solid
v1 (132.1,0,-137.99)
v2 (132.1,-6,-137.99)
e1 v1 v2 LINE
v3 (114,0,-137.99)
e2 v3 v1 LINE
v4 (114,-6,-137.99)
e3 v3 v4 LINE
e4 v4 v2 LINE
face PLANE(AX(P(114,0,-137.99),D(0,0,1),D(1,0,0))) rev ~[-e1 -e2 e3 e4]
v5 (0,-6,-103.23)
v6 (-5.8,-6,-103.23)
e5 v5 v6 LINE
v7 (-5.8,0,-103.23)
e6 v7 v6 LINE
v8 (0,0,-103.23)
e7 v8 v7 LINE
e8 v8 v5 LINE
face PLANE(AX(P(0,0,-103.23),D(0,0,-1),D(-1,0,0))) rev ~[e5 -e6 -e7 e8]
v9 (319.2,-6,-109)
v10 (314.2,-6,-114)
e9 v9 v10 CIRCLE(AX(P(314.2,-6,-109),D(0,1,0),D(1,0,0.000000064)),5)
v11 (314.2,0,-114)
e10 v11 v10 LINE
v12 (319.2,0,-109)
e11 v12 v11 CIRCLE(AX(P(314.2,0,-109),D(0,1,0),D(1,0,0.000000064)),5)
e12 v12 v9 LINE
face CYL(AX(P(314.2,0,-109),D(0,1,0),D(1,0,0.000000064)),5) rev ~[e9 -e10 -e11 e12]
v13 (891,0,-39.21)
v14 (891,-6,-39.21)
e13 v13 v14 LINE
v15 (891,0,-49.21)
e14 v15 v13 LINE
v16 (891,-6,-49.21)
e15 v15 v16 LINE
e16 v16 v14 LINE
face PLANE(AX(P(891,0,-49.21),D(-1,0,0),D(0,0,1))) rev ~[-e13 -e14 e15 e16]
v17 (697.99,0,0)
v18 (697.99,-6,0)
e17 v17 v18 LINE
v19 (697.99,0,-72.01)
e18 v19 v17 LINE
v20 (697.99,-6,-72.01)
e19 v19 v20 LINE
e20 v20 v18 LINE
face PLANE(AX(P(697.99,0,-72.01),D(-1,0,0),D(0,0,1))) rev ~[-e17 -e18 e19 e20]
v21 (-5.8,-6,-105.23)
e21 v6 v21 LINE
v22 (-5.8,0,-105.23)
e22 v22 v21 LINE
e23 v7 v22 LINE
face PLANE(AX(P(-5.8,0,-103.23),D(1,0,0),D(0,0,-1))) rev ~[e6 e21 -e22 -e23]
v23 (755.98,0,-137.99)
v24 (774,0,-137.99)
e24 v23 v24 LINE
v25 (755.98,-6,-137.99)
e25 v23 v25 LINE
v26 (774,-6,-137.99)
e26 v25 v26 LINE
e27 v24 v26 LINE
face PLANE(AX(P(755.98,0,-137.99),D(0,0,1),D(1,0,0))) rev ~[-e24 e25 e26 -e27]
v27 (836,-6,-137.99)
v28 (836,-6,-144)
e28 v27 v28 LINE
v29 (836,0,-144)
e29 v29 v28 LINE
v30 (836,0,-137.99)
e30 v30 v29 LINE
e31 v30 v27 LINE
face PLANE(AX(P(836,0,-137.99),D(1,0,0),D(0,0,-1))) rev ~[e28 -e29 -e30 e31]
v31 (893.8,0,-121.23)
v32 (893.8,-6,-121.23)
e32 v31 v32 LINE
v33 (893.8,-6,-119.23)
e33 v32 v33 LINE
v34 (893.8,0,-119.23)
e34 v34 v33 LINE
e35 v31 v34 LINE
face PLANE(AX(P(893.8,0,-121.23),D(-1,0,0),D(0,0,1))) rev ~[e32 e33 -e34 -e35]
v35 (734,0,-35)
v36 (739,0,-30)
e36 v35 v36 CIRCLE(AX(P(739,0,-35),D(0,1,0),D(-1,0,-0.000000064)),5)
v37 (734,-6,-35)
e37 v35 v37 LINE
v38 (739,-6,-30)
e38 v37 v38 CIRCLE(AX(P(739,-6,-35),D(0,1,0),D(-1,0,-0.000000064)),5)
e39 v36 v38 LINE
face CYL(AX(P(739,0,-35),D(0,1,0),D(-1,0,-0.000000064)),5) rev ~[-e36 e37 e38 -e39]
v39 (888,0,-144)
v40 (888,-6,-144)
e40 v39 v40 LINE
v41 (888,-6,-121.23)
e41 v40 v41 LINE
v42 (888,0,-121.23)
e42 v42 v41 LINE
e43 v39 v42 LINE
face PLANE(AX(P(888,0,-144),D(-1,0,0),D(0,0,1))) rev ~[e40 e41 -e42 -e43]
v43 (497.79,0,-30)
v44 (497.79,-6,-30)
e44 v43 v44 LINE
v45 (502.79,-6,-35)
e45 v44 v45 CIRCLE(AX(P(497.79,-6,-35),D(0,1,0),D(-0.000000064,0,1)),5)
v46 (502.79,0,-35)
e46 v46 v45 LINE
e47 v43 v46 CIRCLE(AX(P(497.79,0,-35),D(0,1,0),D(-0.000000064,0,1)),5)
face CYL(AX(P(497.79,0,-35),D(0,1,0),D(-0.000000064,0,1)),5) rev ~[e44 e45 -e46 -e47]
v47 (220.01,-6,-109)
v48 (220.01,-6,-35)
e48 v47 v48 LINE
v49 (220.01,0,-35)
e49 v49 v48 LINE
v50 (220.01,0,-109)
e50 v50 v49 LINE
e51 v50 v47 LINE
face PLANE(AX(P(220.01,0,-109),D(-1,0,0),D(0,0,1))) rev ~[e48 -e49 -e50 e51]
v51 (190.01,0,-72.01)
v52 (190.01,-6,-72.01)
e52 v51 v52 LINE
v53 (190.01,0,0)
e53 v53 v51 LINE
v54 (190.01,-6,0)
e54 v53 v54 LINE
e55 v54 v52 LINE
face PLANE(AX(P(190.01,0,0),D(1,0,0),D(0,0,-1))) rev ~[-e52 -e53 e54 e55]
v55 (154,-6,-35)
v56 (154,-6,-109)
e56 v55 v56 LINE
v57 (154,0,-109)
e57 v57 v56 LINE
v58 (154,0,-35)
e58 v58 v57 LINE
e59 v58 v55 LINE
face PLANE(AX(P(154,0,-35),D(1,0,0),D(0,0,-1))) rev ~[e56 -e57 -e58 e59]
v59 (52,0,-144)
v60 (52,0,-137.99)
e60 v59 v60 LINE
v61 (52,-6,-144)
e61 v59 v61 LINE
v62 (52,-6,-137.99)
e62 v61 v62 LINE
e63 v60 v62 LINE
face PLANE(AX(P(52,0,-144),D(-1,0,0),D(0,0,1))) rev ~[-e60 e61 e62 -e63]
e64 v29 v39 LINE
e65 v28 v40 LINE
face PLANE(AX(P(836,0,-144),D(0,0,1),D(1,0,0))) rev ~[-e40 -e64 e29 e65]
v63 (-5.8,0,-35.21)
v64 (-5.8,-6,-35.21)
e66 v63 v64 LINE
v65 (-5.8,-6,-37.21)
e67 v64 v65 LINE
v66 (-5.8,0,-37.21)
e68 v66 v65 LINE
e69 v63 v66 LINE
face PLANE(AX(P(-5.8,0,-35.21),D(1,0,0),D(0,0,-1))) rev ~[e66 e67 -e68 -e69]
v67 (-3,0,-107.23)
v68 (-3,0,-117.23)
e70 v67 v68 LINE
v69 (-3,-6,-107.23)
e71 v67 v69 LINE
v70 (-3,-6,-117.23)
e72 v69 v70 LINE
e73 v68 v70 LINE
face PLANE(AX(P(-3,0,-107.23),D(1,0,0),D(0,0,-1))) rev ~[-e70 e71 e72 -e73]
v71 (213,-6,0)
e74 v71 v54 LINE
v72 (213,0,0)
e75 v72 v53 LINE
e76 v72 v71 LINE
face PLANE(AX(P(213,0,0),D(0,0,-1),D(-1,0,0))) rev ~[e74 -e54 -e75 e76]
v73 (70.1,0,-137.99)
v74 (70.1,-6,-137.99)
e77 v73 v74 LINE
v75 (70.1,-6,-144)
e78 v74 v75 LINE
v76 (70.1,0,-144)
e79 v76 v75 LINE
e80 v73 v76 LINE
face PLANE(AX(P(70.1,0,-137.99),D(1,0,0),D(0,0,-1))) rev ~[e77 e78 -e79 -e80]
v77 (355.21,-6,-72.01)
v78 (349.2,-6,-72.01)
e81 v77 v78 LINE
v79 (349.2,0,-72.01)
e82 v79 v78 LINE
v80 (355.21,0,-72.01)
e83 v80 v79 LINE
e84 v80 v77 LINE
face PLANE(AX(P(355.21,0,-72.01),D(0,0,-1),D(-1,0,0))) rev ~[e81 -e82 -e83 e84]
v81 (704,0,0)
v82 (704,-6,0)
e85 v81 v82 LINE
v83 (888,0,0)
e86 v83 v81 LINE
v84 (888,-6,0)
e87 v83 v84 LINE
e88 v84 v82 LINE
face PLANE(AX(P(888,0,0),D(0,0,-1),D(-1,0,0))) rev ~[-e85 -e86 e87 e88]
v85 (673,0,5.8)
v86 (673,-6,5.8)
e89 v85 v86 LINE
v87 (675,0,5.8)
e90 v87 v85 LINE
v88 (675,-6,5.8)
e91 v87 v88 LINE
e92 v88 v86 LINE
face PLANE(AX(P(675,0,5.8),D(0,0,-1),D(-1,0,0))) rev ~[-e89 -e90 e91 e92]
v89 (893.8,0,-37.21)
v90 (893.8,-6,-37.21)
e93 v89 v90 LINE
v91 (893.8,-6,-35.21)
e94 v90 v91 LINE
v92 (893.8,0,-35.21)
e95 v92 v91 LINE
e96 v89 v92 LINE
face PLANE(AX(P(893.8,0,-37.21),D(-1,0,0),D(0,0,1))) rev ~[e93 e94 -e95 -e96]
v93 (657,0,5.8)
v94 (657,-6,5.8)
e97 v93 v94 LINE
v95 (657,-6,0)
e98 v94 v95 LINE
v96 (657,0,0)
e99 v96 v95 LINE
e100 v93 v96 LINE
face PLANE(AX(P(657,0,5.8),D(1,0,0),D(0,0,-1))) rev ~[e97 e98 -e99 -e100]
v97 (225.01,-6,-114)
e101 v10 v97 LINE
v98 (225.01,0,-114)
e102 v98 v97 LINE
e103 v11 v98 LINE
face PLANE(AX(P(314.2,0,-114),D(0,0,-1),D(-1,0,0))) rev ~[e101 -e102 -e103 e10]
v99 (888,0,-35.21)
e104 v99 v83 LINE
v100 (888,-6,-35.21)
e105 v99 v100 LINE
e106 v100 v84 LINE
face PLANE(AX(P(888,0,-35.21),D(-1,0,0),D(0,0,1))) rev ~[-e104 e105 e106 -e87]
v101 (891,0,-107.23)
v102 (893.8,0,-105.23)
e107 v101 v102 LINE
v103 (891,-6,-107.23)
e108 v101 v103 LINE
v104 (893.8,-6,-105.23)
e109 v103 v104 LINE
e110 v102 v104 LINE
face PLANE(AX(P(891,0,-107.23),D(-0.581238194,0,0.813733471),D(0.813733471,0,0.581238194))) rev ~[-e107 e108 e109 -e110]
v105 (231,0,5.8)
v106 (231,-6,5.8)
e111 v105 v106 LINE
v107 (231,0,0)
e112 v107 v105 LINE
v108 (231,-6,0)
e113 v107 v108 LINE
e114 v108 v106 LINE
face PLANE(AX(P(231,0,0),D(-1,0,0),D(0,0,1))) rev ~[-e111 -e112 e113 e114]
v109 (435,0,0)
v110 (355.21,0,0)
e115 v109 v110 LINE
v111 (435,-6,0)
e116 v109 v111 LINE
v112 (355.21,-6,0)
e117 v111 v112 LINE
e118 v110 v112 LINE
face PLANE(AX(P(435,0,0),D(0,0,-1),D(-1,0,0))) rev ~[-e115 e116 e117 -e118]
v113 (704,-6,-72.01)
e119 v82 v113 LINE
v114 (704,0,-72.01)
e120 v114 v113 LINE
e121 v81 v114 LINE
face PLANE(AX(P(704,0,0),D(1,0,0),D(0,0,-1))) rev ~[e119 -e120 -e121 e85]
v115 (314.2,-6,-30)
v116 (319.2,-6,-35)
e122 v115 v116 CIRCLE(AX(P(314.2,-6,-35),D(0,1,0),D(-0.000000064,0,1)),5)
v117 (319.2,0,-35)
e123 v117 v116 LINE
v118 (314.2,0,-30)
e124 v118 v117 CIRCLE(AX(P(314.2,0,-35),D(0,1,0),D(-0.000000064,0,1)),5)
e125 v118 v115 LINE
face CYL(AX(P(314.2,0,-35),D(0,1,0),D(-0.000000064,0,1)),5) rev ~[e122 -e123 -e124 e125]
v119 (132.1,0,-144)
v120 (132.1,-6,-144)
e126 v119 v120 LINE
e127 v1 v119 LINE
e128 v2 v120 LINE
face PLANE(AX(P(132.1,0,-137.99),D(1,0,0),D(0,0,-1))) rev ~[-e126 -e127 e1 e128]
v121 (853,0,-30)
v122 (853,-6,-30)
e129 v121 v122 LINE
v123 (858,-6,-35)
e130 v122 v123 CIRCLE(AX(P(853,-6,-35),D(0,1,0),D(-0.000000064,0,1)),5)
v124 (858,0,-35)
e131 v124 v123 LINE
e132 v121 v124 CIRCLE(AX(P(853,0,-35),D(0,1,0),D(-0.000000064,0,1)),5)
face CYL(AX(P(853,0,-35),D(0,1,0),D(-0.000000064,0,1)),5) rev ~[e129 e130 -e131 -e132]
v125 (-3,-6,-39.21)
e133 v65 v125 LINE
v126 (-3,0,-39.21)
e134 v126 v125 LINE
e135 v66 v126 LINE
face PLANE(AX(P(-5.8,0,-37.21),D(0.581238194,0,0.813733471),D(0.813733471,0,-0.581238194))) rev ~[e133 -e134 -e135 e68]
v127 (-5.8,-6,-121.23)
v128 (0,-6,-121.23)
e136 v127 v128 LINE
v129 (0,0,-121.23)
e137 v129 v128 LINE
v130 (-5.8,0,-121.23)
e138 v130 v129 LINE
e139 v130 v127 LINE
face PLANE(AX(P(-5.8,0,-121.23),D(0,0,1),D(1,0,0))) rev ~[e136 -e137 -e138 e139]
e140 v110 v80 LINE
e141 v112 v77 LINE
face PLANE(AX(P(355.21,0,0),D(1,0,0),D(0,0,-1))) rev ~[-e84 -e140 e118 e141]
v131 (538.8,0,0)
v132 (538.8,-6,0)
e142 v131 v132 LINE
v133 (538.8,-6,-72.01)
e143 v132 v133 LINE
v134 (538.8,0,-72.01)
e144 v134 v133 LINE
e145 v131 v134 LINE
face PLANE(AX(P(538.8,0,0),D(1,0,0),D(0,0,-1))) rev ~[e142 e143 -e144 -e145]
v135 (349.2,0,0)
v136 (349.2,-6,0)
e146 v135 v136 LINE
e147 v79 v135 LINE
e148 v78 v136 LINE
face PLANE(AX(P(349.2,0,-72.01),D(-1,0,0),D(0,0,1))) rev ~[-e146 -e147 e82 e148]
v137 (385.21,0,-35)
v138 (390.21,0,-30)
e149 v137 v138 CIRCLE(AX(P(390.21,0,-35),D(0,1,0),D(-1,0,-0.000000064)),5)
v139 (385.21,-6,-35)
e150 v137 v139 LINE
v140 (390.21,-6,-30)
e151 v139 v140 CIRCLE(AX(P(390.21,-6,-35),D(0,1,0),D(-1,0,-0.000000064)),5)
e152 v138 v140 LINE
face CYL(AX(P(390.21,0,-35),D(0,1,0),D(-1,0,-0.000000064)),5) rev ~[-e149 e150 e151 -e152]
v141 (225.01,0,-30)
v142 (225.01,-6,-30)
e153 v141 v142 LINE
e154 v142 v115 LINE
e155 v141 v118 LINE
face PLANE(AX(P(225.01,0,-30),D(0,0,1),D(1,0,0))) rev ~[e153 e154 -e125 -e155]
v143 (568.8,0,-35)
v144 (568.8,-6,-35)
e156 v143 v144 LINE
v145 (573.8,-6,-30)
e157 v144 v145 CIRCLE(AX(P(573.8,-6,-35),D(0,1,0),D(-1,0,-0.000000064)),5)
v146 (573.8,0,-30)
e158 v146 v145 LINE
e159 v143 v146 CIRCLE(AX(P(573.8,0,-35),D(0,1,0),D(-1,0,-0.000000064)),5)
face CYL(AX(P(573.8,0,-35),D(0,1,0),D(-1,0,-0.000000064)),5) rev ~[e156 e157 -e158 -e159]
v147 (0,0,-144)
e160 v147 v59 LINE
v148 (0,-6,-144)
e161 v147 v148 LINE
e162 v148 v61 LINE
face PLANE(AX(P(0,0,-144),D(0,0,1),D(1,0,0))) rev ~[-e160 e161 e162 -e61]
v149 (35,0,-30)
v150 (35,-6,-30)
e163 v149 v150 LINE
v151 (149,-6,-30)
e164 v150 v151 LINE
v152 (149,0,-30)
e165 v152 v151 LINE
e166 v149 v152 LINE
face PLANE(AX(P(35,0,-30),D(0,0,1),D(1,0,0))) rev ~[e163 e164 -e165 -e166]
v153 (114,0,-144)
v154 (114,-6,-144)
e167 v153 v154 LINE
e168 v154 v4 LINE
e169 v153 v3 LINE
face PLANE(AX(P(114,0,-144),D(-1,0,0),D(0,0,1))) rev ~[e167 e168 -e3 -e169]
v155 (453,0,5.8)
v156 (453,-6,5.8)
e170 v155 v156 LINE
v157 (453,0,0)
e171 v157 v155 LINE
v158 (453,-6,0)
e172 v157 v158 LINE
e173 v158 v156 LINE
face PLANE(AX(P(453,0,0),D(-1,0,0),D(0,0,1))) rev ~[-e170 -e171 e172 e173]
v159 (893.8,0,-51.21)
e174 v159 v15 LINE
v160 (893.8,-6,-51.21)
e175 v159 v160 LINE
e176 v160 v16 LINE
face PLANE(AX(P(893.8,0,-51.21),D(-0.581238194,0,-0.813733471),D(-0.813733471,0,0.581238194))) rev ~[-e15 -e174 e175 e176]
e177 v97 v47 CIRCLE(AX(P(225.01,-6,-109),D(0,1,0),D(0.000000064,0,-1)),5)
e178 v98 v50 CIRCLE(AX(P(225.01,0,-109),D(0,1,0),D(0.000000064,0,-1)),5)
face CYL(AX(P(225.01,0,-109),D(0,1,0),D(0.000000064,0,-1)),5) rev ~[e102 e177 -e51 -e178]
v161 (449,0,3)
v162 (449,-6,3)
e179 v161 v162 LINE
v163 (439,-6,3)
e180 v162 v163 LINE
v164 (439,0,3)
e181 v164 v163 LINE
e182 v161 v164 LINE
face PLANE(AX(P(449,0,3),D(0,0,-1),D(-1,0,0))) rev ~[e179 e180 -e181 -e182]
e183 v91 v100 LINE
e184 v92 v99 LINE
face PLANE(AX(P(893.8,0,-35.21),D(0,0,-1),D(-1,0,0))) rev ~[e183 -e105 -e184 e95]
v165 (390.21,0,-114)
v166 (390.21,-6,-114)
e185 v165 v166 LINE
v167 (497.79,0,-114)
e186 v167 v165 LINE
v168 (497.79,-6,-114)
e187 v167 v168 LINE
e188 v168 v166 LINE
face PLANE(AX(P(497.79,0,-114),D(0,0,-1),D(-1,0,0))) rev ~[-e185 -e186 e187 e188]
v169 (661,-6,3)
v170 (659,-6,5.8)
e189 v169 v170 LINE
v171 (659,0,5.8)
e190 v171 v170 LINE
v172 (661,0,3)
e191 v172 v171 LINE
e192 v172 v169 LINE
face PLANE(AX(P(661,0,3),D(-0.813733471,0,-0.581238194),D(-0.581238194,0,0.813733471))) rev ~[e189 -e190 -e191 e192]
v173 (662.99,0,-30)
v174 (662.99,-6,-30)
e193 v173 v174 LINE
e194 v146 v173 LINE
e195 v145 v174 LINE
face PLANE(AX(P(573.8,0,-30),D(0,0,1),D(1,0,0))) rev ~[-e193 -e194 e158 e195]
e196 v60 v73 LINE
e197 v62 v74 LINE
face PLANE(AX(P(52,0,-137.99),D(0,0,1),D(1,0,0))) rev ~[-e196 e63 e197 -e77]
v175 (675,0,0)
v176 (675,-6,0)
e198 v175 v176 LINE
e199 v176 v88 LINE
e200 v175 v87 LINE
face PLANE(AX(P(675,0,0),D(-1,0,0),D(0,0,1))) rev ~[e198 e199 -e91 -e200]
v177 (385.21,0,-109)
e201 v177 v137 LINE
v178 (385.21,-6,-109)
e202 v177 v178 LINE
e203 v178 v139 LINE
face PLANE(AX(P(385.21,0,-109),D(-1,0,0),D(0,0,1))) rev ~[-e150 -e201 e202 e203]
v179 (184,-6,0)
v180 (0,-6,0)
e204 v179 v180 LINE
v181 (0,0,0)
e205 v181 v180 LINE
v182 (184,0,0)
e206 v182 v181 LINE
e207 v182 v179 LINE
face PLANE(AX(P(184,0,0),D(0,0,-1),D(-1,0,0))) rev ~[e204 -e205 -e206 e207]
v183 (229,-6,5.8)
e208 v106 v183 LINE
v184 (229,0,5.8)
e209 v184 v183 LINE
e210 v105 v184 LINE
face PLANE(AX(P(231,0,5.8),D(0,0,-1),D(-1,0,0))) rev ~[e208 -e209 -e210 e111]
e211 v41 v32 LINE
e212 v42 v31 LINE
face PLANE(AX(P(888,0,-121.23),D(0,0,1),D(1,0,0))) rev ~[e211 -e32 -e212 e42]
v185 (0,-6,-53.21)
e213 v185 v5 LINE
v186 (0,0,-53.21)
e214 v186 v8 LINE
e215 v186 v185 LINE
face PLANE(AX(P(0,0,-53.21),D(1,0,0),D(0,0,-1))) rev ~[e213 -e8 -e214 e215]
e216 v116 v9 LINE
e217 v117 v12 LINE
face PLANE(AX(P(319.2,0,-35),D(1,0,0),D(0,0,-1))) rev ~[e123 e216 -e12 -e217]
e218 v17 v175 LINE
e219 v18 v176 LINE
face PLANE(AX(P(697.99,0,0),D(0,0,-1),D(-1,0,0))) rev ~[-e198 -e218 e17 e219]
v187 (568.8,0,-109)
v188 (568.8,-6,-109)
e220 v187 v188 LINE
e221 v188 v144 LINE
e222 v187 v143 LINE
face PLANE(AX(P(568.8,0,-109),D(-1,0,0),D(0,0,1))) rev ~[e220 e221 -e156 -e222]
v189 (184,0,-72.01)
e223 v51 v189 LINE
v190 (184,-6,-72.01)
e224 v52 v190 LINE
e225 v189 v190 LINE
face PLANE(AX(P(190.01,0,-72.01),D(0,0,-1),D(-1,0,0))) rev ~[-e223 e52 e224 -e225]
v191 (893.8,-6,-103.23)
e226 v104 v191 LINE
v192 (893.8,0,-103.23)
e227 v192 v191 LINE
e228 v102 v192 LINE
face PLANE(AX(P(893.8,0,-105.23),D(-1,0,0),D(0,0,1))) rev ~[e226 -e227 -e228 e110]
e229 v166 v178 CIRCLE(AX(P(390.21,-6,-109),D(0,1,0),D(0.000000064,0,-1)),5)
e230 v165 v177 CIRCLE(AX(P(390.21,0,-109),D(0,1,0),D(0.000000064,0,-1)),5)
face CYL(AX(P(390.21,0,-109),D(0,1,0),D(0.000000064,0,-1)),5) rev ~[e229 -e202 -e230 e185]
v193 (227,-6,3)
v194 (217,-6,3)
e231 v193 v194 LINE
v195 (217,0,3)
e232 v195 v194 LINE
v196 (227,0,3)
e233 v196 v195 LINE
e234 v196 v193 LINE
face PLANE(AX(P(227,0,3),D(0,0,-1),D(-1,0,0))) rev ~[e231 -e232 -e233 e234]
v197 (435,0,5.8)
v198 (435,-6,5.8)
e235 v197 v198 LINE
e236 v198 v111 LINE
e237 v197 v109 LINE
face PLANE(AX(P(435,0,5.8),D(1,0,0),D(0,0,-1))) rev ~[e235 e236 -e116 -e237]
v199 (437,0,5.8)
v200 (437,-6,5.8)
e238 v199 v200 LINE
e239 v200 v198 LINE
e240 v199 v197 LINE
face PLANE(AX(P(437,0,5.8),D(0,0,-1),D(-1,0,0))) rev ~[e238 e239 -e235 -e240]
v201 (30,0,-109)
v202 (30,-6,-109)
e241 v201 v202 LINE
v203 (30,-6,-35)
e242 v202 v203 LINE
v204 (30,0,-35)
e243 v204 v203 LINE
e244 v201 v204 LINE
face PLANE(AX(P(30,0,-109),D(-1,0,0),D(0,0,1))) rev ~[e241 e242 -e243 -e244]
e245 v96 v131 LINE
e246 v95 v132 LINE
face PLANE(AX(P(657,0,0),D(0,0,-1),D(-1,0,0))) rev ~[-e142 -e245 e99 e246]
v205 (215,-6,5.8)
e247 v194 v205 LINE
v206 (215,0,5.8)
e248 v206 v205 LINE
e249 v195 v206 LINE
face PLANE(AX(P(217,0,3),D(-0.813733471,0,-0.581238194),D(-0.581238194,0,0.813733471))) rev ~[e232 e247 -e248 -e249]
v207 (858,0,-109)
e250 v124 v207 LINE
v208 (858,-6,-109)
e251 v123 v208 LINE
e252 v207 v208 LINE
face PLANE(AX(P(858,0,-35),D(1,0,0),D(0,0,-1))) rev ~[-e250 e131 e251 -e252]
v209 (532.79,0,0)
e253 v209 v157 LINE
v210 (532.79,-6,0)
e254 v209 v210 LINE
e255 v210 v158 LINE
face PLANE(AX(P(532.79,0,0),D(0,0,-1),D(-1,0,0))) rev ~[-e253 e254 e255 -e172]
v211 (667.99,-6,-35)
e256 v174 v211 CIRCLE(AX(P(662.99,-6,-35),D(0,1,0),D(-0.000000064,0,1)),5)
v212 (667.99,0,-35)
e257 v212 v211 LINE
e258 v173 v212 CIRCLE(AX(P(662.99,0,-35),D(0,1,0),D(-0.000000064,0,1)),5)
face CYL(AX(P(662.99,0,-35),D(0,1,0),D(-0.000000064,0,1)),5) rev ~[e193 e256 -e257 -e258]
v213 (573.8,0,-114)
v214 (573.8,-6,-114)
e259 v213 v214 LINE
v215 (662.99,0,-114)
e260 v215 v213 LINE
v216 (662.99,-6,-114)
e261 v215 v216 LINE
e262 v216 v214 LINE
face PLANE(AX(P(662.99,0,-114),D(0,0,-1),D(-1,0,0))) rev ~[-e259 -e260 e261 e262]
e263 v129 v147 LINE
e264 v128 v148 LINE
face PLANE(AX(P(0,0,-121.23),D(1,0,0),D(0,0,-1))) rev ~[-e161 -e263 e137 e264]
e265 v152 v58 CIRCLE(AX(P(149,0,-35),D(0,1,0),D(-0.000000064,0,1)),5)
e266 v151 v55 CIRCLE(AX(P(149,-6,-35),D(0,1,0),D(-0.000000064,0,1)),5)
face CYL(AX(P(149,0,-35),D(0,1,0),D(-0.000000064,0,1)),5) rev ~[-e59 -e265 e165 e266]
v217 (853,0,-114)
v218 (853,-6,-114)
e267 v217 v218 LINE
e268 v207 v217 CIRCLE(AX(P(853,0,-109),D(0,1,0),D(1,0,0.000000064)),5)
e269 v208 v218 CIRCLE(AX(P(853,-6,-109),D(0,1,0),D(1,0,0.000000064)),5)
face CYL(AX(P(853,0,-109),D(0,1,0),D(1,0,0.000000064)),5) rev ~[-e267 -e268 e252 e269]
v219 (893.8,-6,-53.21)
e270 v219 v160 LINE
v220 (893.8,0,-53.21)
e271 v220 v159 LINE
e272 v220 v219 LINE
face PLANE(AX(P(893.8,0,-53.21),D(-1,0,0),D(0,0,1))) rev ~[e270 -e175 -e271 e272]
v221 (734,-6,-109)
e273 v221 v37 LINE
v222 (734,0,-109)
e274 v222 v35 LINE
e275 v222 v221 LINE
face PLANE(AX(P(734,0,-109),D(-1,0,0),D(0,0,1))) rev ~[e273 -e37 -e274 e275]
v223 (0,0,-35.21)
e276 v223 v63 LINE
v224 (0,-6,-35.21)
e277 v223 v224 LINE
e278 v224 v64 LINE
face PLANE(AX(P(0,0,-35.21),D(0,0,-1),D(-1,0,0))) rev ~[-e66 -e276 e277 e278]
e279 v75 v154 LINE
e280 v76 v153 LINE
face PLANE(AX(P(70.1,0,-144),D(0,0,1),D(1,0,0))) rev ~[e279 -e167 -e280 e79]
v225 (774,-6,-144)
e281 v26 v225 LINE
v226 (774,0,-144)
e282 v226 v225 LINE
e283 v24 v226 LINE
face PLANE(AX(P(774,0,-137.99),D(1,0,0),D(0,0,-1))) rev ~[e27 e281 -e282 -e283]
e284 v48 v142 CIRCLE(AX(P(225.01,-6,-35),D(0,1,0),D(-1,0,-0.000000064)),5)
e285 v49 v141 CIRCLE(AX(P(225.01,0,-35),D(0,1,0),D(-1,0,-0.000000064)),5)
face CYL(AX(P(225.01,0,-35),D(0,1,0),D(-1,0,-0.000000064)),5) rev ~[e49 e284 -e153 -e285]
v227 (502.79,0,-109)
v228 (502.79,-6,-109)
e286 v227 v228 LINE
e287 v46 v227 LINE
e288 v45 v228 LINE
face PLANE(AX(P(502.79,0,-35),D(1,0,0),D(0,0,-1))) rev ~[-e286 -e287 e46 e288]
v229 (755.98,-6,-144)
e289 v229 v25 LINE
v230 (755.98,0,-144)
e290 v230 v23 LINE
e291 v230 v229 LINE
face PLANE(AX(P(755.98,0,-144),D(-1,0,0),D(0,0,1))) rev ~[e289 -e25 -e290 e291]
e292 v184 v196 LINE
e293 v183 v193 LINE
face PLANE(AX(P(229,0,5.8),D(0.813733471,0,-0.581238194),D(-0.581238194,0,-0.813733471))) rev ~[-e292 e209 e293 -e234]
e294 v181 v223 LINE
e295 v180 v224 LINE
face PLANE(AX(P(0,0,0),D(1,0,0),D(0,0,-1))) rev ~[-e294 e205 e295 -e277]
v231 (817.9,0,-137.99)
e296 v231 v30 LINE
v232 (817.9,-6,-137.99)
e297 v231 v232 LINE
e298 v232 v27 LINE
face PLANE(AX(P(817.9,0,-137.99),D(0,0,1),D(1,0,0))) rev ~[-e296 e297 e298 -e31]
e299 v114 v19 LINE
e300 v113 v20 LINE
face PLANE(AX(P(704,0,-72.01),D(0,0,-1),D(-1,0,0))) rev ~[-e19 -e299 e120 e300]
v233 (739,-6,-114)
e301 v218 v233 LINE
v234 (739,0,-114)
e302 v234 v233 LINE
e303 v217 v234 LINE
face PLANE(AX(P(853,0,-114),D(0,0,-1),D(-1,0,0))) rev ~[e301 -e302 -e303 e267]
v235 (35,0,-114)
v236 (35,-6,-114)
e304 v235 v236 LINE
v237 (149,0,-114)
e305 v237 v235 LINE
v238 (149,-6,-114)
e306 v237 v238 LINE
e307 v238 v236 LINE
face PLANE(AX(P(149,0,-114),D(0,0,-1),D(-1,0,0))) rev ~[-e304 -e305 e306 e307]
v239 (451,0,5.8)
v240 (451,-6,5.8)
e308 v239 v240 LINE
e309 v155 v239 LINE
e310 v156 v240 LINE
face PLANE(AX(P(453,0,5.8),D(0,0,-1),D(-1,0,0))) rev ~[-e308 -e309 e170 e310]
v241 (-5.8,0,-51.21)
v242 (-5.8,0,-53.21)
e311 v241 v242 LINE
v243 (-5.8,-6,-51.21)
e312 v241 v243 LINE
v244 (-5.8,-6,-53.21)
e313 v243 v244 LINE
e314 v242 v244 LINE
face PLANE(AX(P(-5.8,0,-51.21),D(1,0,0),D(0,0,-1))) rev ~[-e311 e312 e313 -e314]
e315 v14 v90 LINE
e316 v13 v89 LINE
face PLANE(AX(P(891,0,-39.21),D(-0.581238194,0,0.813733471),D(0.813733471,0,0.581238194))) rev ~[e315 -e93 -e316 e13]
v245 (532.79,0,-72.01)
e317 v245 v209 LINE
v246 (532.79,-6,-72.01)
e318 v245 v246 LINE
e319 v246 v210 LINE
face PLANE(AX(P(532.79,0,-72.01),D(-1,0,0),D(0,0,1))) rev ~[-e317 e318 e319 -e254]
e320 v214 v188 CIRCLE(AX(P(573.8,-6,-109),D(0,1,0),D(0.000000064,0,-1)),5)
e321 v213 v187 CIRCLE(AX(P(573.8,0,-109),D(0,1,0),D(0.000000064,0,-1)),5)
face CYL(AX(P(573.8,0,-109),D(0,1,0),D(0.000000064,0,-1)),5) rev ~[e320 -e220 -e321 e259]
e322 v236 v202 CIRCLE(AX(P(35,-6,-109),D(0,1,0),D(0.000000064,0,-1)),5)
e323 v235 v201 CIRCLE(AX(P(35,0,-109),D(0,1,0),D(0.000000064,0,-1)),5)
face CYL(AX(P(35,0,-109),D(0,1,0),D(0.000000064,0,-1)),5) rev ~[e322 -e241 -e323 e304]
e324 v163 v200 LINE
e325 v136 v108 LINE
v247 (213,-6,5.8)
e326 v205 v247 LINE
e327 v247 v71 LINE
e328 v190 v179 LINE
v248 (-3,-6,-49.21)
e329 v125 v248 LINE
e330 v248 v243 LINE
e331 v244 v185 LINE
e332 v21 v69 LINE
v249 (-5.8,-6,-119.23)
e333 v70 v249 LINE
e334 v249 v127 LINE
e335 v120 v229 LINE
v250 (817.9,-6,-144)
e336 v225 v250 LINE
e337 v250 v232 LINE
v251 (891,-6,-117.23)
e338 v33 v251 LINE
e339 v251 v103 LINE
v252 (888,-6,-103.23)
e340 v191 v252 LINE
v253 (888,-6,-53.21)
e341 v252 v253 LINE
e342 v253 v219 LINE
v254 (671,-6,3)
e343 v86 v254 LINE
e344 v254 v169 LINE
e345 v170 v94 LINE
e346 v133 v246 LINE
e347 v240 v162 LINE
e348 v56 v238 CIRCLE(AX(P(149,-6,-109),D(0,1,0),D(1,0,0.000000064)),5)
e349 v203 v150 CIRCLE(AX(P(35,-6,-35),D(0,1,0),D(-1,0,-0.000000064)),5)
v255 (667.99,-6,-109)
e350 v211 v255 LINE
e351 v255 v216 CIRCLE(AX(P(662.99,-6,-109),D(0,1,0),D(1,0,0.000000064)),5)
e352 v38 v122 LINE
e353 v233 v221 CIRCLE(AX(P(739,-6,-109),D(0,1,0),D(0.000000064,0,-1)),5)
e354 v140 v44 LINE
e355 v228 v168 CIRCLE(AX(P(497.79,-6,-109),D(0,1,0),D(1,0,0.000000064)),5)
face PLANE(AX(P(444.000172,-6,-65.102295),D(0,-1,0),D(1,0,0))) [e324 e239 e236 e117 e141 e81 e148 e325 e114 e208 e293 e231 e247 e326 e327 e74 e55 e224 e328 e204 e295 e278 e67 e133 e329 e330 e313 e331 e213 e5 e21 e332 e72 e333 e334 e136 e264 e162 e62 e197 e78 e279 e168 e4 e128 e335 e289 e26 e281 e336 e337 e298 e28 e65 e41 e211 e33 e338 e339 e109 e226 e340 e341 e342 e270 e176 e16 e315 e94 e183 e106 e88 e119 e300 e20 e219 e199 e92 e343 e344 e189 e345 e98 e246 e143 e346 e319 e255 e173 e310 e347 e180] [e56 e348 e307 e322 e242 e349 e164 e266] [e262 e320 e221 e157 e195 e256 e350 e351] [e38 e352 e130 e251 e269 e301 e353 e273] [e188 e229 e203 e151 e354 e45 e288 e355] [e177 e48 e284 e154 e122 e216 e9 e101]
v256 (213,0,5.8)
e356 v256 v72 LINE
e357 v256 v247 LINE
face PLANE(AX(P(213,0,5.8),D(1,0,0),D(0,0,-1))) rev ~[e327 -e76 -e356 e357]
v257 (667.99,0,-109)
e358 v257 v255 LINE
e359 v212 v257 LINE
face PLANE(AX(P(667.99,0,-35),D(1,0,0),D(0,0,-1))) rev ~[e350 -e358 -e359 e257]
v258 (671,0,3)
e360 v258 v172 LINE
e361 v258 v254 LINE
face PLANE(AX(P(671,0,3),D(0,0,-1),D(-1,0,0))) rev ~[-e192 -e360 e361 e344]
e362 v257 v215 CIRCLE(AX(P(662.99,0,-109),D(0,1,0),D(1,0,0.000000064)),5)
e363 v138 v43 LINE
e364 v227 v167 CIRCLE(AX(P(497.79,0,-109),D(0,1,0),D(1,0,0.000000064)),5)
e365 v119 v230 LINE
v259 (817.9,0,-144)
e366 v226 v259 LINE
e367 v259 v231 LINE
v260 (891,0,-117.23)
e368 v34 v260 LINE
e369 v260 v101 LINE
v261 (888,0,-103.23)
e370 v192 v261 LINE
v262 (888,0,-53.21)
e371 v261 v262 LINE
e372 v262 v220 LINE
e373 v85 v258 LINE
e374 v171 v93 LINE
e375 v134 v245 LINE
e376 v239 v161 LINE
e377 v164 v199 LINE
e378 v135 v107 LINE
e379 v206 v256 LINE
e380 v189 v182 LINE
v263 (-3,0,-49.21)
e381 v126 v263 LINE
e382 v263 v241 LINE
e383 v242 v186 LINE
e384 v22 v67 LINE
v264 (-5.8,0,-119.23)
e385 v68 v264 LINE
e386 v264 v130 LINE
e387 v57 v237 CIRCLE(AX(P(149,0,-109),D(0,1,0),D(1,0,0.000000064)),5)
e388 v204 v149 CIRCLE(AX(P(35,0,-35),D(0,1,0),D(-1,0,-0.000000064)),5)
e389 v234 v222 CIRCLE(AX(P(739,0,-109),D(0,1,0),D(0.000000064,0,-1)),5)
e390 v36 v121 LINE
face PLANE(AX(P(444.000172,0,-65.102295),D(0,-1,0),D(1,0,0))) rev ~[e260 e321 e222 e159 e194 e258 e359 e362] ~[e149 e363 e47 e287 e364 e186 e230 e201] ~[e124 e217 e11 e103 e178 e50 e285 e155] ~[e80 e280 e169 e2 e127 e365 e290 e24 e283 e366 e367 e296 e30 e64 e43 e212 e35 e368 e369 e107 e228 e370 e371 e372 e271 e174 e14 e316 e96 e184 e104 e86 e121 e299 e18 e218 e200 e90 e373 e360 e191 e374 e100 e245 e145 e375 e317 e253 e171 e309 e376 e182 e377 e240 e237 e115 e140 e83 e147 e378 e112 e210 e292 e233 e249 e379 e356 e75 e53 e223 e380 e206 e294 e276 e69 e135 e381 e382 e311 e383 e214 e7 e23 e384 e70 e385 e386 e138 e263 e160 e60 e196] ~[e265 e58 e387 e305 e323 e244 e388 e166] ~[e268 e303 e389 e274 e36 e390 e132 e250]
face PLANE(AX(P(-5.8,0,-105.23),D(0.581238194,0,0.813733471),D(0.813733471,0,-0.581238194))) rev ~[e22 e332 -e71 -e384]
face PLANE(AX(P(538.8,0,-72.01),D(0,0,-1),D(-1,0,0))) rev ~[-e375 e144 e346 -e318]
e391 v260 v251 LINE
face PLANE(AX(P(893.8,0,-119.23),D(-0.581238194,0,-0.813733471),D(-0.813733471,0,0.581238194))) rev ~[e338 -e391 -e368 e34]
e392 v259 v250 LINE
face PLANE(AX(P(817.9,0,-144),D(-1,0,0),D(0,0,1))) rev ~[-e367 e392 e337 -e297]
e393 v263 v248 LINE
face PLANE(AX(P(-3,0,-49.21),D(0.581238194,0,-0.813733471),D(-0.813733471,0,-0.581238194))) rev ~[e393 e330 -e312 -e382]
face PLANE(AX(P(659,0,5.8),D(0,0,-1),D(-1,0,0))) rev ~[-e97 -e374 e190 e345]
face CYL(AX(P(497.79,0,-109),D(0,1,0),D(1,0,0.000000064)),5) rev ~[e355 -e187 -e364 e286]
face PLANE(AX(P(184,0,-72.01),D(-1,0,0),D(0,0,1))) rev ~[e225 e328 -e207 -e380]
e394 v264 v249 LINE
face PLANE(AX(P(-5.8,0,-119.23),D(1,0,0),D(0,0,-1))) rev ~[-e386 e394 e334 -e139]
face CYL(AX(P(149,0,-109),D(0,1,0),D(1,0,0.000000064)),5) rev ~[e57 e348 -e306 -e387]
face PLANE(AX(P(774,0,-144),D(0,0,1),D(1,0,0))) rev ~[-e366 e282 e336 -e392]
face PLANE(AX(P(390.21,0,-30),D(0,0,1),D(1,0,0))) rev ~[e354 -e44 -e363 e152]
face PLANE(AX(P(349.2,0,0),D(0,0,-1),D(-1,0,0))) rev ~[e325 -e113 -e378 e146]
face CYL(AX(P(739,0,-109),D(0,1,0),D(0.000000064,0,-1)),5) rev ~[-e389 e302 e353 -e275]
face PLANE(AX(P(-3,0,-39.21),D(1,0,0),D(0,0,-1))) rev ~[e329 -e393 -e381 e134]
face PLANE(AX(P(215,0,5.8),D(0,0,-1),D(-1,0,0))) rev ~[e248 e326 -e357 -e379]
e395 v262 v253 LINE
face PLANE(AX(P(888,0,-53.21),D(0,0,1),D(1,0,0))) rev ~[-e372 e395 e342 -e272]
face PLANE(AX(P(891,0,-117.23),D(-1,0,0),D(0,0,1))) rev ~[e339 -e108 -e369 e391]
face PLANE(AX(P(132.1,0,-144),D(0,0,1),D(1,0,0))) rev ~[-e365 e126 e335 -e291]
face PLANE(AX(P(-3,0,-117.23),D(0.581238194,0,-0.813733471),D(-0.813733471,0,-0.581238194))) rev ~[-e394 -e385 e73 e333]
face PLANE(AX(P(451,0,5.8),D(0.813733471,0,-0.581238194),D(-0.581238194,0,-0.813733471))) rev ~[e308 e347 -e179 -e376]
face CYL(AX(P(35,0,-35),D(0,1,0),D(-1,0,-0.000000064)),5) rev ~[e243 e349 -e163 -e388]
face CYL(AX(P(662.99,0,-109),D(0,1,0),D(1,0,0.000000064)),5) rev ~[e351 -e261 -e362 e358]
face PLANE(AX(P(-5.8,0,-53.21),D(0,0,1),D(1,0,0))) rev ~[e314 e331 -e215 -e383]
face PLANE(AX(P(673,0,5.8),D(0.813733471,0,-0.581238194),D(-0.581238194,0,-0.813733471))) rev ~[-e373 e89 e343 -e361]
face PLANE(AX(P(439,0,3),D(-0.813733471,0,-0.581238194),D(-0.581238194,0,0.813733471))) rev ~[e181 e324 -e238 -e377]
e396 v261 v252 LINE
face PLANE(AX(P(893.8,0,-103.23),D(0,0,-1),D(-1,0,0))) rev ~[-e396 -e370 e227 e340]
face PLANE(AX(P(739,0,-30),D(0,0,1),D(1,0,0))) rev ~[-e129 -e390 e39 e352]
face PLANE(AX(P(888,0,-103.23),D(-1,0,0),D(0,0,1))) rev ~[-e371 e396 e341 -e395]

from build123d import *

# Parameters (mm, degrees)
F1_DEPTH = 6


with BuildPart() as f1:
    # F0 (on Front) → F1 (new body)
    with BuildSketch(Plane.XZ):
        Polygon((184, 0), (0, 0), (0, -35.21), (-5.8, -35.21), (-5.8, -37.21), (-3, -39.21), (-3, -49.21), (-5.8, -51.21), (-5.8, -53.21), (0, -53.21), (0, -103.23), (-5.8, -103.23), (-5.8, -105.23), (-3, -107.23), (-3, -117.23), (-5.8, -119.23), (-5.8, -121.23), (0, -121.23), (0, -144), (52, -144), (52, -137.99), (70.1, -137.99), (70.1, -144), (114, -144), (114, -137.99), (132.1, -137.99), (132.1, -144), (755.98, -144), (755.98, -137.99), (774, -137.99), (774, -144), (817.9, -144), (817.9, -137.99), (836, -137.99), (836, -144), (888, -144), (888, -121.23), (893.8, -121.23), (893.8, -119.23), (891, -117.23), (891, -107.23), (893.8, -105.23), (893.8, -103.23), (888, -103.23), (888, -53.21), (893.8, -53.21), (893.8, -51.21), (891, -49.21), (891, -39.21), (893.8, -37.21), (893.8, -35.21), (888, -35.21), (888, 0), (704, 0), (704, -72.01), (697.99, -72.01), (697.99, 0), (675, 0), (675, 5.8), (673, 5.8), (671, 3), (661, 3), (659, 5.8), (657, 5.8), (657, 0), (538.8, 0), (538.8, -72.01), (532.79, -72.01), (532.79, 0), (453, 0), (453, 5.8), (451, 5.8), (449, 3), (439, 3), (437, 5.8), (435, 5.8), (435, 0), (355.21, 0), (355.21, -72.01), (349.2, -72.01), (349.2, 0), (231, 0), (231, 5.8), (229, 5.8), (227, 3), (217, 3), (215, 5.8), (213, 5.8), (213, 0), (190.01, 0), (190.01, -72.01), (184, -72.01), align=None)
        with BuildLine():
            ThreePointArc((30, -35), (31.464466, -31.464466), (35, -30))
            Line((35, -30), (149, -30))
            ThreePointArc((149, -30), (152.535534, -31.464466), (154, -35))
            Line((154, -35), (154, -109))
            ThreePointArc((154, -109), (152.535534, -112.535534), (149, -114))
            Line((149, -114), (35, -114))
            ThreePointArc((35, -114), (31.464466, -112.535534), (30, -109))
            Line((30, -109), (30, -35))
        make_face(mode=Mode.SUBTRACT)
        with BuildLine():
            Line((220.01, -109), (220.01, -35))
            ThreePointArc((220.01, -35), (221.474466, -31.464466), (225.01, -30))
            Line((225.01, -30), (314.2, -30))
            ThreePointArc((314.2, -30), (317.735534, -31.464466), (319.2, -35))
            Line((319.2, -35), (319.2, -109))
            ThreePointArc((319.2, -109), (317.735534, -112.535534), (314.2, -114))
            Line((314.2, -114), (225.01, -114))
            ThreePointArc((225.01, -114), (221.474466, -112.535534), (220.01, -109))
        make_face(mode=Mode.SUBTRACT)
        with BuildLine():
            ThreePointArc((385.21, -35), (386.674466, -31.464466), (390.21, -30))
            Line((390.21, -30), (497.79, -30))
            ThreePointArc((497.79, -30), (501.325534, -31.464466), (502.79, -35))
            Line((502.79, -35), (502.79, -109))
            ThreePointArc((502.79, -109), (501.325534, -112.535534), (497.79, -114))
            Line((497.79, -114), (390.21, -114))
            ThreePointArc((390.21, -114), (386.674466, -112.535534), (385.21, -109))
            Line((385.21, -109), (385.21, -35))
        make_face(mode=Mode.SUBTRACT)
        with BuildLine():
            ThreePointArc((568.8, -35), (570.264466, -31.464466), (573.8, -30))
            Line((573.8, -30), (662.99, -30))
            ThreePointArc((662.99, -30), (666.525534, -31.464466), (667.99, -35))
            Line((667.99, -35), (667.99, -109))
            ThreePointArc((667.99, -109), (666.525534, -112.535534), (662.99, -114))
            Line((662.99, -114), (573.8, -114))
            ThreePointArc((573.8, -114), (570.264466, -112.535534), (568.8, -109))
            Line((568.8, -109), (568.8, -35))
        make_face(mode=Mode.SUBTRACT)
        with BuildLine():
            ThreePointArc((734, -35), (735.464466, -31.464466), (739, -30))
            Line((739, -30), (853, -30))
            ThreePointArc((853, -30), (856.535534, -31.464466), (858, -35))
            Line((858, -35), (858, -109))
            ThreePointArc((858, -109), (856.535534, -112.535534), (853, -114))
            Line((853, -114), (739, -114))
            ThreePointArc((739, -114), (735.464466, -112.535534), (734, -109))
            Line((734, -109), (734, -35))
        make_face(mode=Mode.SUBTRACT)
    extrude(amount=F1_DEPTH)


solid = f1.part
